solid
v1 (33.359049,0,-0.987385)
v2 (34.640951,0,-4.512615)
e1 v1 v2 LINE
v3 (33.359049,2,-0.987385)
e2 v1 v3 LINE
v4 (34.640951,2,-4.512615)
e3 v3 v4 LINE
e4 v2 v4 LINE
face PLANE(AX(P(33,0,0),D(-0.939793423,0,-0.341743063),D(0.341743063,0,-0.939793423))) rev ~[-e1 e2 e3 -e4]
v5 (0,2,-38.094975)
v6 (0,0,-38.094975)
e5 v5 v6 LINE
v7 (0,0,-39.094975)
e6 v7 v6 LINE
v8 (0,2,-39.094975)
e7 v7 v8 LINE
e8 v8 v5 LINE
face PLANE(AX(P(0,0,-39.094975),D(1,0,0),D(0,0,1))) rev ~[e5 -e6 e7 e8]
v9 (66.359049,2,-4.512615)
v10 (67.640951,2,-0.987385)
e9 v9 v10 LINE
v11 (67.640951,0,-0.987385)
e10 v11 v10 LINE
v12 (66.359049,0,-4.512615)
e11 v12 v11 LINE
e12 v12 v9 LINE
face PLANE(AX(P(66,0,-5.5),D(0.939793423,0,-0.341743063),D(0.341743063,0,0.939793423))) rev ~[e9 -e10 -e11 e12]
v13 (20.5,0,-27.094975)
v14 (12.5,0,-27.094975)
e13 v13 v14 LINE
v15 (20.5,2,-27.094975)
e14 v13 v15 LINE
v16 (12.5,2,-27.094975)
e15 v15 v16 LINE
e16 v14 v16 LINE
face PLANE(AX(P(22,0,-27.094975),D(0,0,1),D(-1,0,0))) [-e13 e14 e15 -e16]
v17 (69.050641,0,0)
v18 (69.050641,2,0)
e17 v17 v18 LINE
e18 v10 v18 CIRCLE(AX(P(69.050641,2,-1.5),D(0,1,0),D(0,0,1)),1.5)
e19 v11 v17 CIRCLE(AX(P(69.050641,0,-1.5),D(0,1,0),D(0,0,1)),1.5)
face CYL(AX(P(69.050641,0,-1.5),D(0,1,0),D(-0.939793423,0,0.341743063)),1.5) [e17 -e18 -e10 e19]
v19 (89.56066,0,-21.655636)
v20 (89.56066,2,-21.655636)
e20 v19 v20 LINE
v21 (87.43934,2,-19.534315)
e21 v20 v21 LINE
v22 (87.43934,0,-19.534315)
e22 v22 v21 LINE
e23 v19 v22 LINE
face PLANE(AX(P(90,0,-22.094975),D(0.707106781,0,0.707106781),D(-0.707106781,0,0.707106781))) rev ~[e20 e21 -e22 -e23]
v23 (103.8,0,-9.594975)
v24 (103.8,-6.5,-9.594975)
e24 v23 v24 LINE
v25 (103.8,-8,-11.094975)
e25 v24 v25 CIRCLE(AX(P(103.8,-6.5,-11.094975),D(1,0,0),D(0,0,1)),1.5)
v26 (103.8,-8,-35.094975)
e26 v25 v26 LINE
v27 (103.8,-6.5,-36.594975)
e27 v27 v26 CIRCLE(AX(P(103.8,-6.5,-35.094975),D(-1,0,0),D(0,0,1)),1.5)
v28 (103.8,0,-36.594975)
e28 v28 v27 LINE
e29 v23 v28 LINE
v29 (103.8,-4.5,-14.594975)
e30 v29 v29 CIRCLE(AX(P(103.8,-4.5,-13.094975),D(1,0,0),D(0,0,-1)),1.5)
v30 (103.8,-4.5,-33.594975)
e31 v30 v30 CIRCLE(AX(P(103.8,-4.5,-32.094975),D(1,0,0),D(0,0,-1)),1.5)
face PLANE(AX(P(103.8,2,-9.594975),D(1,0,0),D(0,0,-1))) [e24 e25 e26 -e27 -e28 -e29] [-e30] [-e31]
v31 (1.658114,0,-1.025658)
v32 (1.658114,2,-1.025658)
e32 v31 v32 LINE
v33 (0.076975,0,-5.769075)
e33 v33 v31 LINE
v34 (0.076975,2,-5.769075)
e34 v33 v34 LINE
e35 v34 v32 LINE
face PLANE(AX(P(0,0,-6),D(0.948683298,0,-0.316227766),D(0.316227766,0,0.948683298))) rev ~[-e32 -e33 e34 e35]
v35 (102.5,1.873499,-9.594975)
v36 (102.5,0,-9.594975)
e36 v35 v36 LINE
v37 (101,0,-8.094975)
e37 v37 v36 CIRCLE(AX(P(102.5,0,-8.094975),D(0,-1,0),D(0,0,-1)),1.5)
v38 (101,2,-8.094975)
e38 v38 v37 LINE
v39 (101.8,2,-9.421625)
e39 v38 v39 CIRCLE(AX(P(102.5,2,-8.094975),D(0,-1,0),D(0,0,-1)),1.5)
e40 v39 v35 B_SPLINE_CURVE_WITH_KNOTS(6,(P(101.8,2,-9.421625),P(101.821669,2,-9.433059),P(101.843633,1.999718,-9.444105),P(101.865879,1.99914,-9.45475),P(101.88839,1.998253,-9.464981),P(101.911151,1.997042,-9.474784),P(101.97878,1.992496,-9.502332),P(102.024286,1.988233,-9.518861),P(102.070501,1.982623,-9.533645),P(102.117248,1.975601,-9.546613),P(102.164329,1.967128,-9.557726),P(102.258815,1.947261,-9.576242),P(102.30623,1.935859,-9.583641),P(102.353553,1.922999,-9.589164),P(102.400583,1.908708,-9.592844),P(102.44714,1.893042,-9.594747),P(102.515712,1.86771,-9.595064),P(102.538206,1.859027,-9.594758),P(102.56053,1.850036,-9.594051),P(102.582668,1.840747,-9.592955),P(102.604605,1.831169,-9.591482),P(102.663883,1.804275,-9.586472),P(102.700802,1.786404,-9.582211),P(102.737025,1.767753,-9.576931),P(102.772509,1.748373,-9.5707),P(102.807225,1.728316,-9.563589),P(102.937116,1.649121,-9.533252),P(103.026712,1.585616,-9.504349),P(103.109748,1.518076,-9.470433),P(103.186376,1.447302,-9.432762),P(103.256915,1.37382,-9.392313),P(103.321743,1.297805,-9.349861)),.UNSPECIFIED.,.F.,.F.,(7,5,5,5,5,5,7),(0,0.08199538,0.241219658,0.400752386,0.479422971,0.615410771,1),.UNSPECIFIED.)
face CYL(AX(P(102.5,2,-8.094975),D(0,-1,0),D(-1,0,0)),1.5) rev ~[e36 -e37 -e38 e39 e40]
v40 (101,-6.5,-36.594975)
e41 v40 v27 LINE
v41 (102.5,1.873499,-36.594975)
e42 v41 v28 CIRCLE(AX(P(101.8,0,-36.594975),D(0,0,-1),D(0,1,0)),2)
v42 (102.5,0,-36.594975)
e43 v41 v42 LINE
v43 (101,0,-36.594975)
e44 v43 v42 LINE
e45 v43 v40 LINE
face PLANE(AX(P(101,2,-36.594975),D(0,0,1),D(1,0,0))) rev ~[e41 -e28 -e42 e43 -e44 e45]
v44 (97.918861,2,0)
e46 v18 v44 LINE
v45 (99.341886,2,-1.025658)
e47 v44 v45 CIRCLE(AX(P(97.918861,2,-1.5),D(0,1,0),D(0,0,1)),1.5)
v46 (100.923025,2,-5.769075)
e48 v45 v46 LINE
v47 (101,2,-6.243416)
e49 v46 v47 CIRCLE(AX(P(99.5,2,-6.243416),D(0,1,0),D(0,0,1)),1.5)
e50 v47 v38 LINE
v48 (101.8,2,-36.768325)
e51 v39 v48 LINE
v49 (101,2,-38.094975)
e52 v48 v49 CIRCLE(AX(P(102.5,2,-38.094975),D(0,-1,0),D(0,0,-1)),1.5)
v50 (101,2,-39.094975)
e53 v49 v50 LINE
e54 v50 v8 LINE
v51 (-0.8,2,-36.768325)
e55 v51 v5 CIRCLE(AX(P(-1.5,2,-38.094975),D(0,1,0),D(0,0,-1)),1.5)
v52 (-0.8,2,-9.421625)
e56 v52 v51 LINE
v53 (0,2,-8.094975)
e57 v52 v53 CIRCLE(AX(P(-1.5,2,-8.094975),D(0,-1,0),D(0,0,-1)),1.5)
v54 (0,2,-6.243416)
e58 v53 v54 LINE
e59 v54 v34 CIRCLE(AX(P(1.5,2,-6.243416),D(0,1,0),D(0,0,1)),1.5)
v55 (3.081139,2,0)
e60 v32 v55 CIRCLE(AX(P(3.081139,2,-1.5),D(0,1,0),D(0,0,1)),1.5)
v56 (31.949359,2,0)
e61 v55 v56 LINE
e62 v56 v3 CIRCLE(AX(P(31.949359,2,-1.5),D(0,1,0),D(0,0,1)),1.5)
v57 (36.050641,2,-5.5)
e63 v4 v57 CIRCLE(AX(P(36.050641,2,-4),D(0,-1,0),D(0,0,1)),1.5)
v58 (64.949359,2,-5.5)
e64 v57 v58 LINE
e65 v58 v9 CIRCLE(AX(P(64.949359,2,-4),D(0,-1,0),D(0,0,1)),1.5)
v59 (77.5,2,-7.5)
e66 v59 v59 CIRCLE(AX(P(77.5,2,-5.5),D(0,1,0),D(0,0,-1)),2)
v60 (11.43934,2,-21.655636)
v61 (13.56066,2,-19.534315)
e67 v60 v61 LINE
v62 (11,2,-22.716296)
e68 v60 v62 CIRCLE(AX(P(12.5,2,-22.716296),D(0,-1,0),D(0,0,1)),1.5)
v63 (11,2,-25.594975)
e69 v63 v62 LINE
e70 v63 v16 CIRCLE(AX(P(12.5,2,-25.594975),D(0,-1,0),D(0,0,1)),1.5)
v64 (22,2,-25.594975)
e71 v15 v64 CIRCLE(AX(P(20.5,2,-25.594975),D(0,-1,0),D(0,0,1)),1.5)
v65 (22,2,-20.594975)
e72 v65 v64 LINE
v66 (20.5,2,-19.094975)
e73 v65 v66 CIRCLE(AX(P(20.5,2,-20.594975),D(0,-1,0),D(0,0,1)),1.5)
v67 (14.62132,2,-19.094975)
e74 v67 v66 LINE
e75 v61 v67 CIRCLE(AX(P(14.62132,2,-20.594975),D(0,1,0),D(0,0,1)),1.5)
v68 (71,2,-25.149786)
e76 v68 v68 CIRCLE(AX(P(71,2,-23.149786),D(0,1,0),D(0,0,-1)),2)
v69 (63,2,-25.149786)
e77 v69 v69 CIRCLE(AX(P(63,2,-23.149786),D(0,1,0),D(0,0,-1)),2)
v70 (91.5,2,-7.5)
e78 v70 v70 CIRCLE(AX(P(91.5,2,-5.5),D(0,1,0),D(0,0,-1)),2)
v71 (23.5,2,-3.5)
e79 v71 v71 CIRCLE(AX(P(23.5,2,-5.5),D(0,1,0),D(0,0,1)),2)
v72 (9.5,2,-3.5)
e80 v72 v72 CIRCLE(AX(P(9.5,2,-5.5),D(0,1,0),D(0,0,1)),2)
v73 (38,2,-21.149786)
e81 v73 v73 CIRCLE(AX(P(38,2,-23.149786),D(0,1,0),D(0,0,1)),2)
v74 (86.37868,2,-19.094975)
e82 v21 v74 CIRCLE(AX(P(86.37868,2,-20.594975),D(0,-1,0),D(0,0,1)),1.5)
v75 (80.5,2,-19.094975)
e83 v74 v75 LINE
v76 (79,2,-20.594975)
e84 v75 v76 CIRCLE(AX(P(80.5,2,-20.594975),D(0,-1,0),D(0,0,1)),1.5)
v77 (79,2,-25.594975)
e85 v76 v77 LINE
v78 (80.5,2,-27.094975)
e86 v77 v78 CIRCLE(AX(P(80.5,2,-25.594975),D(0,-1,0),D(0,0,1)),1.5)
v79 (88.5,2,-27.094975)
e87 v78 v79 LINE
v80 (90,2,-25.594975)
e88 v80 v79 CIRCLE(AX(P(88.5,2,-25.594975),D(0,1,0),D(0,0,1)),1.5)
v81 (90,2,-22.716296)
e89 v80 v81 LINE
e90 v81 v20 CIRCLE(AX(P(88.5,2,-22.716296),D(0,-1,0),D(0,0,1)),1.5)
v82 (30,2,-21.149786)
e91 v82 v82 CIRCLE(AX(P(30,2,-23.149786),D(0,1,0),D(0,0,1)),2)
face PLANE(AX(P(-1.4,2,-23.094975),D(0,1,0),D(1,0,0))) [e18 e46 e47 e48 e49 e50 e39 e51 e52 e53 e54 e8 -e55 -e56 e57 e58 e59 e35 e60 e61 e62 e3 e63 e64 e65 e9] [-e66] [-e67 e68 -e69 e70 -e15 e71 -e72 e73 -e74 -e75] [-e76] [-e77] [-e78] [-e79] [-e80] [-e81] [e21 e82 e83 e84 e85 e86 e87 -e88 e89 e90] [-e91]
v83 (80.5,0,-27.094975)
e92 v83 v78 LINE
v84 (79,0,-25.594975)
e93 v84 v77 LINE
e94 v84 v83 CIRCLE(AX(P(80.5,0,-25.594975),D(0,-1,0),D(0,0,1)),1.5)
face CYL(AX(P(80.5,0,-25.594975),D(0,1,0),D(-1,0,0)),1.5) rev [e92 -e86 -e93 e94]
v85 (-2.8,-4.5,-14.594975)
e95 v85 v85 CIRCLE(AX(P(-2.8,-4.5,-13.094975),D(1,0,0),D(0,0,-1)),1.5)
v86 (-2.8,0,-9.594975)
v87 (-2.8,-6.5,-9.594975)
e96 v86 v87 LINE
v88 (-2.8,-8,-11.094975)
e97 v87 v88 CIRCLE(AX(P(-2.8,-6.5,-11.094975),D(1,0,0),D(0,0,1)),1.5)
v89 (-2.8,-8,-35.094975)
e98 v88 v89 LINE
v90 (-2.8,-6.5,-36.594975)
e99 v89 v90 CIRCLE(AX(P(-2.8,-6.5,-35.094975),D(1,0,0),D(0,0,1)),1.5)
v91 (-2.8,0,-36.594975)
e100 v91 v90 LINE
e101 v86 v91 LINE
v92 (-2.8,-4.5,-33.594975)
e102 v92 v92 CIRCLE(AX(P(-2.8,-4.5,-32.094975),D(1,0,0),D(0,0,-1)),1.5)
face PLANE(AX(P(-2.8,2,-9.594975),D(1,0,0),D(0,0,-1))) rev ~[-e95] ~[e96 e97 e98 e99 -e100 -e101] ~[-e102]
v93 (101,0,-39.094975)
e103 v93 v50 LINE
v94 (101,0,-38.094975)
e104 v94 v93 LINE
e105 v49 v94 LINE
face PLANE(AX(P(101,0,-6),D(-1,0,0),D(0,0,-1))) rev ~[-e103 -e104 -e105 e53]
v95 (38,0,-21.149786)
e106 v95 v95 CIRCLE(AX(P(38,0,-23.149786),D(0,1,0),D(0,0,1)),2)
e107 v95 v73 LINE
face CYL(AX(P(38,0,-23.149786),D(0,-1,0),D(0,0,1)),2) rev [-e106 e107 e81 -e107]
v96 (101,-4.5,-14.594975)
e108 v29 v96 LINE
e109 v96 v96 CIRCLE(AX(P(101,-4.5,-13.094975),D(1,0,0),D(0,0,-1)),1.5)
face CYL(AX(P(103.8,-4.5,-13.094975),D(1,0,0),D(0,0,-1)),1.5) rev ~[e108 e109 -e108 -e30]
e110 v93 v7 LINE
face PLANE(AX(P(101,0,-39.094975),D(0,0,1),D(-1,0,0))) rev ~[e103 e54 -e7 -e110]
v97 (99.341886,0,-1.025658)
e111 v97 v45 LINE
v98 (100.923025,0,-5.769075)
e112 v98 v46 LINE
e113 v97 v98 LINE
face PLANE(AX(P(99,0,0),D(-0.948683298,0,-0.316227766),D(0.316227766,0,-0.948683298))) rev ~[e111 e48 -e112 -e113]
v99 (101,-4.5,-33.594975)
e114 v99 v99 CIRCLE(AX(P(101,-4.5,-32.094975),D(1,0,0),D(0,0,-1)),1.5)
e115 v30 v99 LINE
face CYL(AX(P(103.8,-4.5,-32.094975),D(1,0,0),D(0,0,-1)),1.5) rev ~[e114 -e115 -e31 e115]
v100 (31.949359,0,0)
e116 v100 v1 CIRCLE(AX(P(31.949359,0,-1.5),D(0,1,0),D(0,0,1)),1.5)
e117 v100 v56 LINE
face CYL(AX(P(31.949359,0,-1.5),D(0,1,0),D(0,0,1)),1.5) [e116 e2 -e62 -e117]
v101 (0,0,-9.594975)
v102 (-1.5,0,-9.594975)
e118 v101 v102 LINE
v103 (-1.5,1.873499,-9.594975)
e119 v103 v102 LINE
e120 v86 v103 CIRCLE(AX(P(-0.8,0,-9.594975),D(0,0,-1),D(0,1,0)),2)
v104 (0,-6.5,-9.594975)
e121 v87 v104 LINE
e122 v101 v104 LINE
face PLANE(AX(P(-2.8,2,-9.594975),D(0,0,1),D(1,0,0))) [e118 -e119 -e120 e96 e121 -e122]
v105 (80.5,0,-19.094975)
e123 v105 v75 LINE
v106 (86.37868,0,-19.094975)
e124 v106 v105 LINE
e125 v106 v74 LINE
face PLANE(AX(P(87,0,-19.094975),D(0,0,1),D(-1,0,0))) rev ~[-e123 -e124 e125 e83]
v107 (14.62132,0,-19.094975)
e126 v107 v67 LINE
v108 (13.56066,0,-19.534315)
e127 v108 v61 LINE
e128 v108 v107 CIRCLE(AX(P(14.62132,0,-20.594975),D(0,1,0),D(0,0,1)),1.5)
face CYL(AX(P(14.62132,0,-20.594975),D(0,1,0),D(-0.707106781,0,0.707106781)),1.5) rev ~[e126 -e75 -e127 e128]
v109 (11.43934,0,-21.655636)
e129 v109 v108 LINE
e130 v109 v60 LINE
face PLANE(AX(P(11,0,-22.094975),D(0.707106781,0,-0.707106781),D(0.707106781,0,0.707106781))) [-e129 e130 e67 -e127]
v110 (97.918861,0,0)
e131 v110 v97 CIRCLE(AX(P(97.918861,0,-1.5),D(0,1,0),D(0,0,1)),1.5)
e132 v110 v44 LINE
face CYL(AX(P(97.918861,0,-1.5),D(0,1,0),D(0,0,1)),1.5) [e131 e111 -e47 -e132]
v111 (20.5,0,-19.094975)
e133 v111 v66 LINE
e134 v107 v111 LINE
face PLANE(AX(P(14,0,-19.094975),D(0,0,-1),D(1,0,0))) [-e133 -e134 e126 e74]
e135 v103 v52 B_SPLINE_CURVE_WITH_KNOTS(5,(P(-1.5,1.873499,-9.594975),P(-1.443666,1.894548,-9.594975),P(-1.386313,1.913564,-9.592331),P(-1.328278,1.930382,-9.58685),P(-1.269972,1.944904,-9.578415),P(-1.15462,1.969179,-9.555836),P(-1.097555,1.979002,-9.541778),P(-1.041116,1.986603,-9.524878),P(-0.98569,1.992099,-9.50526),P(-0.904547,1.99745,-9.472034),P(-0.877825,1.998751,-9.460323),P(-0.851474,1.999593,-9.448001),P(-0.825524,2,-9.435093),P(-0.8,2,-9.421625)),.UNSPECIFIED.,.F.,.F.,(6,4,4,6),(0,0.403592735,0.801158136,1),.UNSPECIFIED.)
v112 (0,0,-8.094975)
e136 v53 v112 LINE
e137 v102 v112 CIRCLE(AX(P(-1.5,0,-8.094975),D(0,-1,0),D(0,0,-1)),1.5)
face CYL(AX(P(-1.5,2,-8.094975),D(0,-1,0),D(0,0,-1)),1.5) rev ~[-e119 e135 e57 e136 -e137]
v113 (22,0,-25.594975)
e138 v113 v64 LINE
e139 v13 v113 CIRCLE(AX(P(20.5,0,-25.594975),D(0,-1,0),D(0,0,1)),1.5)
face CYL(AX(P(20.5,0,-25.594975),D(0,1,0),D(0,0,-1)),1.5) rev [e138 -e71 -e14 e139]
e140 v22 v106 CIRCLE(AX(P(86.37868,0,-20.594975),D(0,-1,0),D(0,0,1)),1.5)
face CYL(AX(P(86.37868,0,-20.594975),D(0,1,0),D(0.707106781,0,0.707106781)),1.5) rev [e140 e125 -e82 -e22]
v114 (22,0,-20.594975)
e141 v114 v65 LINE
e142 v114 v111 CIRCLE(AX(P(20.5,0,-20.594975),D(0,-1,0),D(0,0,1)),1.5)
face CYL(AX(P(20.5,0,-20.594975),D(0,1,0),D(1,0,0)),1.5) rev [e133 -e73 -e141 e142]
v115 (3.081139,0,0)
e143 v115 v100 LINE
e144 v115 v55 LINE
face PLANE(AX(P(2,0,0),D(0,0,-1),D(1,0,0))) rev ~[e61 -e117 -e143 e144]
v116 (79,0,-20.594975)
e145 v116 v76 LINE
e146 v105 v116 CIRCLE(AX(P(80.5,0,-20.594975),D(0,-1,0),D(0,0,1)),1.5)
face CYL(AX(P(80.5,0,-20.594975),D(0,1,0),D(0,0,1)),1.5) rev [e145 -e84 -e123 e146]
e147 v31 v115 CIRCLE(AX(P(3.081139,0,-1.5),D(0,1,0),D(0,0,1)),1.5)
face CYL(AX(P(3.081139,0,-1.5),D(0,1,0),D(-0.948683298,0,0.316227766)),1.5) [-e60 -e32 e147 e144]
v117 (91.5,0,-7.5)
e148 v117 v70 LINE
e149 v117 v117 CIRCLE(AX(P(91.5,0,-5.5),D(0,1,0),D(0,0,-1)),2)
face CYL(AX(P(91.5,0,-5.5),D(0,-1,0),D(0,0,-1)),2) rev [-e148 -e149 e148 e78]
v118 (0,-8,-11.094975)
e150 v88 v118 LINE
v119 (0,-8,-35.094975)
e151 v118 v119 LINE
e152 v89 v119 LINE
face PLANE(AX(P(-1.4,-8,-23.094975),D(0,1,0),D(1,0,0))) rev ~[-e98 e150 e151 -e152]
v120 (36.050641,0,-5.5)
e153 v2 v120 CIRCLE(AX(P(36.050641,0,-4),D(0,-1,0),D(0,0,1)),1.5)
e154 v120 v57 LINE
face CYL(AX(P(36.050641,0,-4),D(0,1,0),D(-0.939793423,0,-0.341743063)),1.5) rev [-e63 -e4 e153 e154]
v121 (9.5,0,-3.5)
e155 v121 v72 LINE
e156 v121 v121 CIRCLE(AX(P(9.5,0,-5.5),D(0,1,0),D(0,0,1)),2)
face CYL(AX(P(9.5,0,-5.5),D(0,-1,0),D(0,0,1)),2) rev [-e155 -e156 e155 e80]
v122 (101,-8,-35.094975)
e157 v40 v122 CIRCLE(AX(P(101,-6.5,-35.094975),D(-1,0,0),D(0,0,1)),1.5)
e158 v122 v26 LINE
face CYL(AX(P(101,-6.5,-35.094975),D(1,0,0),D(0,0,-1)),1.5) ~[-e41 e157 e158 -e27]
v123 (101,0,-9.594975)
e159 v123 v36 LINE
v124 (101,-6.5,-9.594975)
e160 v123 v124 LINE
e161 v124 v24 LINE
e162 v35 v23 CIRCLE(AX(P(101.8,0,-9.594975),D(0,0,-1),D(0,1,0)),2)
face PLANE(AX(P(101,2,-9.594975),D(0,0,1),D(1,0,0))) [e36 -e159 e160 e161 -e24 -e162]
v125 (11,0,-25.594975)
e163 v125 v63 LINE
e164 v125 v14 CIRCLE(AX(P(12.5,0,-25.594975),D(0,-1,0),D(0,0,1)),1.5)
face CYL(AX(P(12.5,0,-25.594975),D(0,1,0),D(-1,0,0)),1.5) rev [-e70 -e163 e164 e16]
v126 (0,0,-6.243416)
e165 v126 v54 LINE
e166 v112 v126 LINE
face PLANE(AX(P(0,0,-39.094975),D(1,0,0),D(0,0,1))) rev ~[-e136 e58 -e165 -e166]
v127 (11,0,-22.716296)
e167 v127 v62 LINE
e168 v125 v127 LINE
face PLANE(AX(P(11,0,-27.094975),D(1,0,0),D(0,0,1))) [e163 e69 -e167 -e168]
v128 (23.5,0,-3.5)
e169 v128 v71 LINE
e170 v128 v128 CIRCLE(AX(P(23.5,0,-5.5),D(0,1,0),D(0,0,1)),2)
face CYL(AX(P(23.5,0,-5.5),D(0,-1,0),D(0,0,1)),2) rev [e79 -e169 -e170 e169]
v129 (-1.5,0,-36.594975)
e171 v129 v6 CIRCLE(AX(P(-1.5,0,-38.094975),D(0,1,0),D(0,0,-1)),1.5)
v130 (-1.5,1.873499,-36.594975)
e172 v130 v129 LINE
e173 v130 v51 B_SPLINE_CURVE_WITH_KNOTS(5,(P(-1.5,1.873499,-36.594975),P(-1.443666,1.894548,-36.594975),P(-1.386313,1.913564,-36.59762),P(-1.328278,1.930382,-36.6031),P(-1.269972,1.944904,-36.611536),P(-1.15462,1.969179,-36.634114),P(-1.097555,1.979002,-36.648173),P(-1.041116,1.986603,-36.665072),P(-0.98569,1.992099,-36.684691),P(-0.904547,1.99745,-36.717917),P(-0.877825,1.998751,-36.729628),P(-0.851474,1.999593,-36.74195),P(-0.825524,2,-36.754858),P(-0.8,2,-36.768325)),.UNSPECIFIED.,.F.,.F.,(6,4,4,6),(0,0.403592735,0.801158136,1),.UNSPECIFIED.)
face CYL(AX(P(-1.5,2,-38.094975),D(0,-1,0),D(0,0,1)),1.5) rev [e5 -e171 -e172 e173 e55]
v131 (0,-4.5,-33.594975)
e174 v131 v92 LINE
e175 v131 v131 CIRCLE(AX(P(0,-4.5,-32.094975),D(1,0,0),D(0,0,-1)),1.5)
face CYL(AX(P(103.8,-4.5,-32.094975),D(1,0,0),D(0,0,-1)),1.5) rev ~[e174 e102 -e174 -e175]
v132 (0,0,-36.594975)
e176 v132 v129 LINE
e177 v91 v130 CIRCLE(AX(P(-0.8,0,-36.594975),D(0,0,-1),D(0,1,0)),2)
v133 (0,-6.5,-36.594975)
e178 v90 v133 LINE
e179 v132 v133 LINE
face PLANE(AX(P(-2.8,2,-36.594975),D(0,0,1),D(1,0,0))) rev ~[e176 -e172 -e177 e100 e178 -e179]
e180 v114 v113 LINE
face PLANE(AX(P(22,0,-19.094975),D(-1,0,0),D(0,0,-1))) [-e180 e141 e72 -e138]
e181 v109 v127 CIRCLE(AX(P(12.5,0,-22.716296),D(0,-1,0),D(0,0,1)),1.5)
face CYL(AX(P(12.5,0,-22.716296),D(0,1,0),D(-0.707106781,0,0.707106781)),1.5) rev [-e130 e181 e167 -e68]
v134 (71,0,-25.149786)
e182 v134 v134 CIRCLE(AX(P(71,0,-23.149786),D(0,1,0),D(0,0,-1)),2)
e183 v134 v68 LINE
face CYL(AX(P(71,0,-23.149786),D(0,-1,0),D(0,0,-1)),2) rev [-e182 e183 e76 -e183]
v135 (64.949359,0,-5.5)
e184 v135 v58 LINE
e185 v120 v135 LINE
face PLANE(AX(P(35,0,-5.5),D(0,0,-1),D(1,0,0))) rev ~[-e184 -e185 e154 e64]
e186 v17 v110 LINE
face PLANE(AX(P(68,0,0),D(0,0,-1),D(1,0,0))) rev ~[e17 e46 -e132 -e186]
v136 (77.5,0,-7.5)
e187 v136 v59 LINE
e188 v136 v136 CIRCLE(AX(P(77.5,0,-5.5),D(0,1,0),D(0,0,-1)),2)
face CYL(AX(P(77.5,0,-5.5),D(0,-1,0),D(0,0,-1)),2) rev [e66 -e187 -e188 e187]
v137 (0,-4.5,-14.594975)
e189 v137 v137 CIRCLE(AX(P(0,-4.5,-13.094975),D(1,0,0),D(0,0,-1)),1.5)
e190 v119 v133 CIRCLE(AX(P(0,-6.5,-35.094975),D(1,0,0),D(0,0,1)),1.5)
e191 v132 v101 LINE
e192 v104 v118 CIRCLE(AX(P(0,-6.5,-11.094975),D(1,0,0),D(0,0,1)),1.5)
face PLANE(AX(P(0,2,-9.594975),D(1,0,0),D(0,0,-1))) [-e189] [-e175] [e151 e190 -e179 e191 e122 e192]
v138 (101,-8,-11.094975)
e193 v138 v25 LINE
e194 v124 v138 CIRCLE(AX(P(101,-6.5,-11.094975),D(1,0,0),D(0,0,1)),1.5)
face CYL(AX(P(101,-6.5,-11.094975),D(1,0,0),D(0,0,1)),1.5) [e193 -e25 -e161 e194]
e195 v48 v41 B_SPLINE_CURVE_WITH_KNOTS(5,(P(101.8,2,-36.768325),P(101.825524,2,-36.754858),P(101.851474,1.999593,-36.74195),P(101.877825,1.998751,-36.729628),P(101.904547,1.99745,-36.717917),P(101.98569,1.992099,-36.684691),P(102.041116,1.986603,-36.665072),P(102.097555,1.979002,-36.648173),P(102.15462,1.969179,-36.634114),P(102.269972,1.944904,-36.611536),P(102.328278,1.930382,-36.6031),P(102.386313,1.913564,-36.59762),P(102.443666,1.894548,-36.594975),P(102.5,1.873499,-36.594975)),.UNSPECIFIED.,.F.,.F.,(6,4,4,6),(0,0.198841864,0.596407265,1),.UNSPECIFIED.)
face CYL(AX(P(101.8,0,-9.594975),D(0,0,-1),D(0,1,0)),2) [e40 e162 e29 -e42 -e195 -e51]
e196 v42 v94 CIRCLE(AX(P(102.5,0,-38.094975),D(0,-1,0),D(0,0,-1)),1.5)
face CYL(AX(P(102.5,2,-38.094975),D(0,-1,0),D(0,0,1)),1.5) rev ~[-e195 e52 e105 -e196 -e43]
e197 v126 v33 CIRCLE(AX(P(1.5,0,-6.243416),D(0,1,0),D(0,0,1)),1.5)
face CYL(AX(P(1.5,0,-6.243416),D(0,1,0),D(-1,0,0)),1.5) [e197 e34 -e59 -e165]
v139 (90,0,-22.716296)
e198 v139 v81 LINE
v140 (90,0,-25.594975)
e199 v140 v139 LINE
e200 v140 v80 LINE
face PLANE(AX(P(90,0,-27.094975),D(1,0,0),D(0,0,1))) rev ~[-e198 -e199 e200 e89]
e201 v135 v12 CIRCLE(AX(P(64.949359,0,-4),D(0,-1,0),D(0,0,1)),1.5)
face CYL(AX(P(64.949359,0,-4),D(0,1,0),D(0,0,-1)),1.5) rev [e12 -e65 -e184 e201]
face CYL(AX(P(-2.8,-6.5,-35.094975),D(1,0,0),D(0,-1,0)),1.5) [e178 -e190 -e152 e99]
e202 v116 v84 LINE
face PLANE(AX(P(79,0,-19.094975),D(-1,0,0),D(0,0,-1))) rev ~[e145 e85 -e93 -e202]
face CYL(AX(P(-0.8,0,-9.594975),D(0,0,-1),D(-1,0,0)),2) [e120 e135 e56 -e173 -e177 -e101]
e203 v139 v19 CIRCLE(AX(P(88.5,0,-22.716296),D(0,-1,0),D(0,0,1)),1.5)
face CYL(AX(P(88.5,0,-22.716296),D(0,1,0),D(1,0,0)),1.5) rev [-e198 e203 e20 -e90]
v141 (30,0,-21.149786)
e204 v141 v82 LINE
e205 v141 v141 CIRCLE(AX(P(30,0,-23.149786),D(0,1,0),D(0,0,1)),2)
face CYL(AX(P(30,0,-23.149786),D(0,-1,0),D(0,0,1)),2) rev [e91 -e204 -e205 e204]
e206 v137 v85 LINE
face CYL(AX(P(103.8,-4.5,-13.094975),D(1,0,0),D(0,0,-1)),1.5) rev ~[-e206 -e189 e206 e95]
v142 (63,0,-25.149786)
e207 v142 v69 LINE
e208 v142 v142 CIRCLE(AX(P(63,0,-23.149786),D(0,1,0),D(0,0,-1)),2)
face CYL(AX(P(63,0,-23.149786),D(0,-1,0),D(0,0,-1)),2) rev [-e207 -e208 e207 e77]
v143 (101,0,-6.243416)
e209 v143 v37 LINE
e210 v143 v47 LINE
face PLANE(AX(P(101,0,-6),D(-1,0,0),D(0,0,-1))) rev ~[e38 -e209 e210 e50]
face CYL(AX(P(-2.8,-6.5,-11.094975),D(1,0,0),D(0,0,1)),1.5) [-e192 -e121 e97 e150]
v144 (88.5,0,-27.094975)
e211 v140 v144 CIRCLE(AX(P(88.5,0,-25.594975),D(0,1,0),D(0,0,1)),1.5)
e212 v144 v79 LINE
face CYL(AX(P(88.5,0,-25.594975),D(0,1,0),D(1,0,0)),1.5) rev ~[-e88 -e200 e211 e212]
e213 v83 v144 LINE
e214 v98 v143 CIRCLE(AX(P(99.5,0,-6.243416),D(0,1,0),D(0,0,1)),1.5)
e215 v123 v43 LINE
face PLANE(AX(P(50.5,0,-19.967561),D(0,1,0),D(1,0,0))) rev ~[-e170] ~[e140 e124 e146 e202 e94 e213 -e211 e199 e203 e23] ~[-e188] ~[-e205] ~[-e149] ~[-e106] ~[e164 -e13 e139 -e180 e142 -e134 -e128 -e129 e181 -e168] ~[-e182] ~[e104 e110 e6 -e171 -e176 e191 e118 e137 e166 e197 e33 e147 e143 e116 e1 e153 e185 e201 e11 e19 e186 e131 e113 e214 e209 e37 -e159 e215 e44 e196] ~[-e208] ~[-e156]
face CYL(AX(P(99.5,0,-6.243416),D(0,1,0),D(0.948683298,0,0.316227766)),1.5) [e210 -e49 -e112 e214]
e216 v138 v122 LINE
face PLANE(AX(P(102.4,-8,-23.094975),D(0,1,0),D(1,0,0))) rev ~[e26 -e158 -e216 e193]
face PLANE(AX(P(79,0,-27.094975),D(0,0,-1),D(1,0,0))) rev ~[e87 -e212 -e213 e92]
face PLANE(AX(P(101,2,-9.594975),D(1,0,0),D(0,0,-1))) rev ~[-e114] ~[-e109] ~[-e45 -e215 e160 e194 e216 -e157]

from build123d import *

# Parameters (mm, degrees)
SKETCH1_R           = 2
BOSS_EXTRUDE1_DEPTH = 2
SKETCH2_W           = 2.8
SKETCH2_H           = 27
BOSS_EXTRUDE2_DEPTH = 10
SKETCH3_R           = 1.5
CUT_EXTRUDE1_DEPTH  = 114.824325613
FILLET1_R           = 1.5
FILLET2_R           = 2


with BuildPart() as part:
    # Sketch1 → Boss-Extrude1 (new body)
    with BuildSketch(Plane(origin=(0, 0, 0), x_dir=(1, 0, 0), z_dir=(0, 1, 0))):
        Polygon((0, 6), (2, 0), (33, 0), (35, 5.5), (66, 5.5), (68, 0), (99, 0), (101, 6), (101, 39.094975397), (0, 39.094975397), align=None)
        with Locations(Location((9.5, 5.5, 0), (0, 0, 270))):
            Circle(SKETCH1_R, mode=Mode.SUBTRACT)
        with Locations(Location((23.5, 5.5, 0), (0, 0, 270))):
            Circle(SKETCH1_R, mode=Mode.SUBTRACT)
        with Locations(Location((77.5, 5.5, 0), (0, 0, 90))):
            Circle(SKETCH1_R, mode=Mode.SUBTRACT)
        with Locations(Location((91.5, 5.5, 0), (0, 0, 90))):
            Circle(SKETCH1_R, mode=Mode.SUBTRACT)
        with Locations(Location((30, 23.149785568, 0), (0, 0, 270))):
            Circle(SKETCH1_R, mode=Mode.SUBTRACT)
        with Locations(Location((38, 23.149785568, 0), (0, 0, 270))):
            Circle(SKETCH1_R, mode=Mode.SUBTRACT)
        with Locations(Location((63, 23.149785568, 0), (0, 0, 90))):
            Circle(SKETCH1_R, mode=Mode.SUBTRACT)
        with Locations(Location((71, 23.149785568, 0), (0, 0, 90))):
            Circle(SKETCH1_R, mode=Mode.SUBTRACT)
        Polygon((11, 22.094975397), (14, 19.094975397), (22, 19.094975397), (22, 27.094975397), (11, 27.094975397), align=None, mode=Mode.SUBTRACT)
        Polygon((90, 27.094975397), (90, 22.094975397), (87, 19.094975397), (79, 19.094975397), (79, 27.094975397), align=None, mode=Mode.SUBTRACT)
    extrude(amount=BOSS_EXTRUDE1_DEPTH)

    # Sketch2 → Boss-Extrude2 (add)
    with BuildSketch(Plane(origin=(0, 2, 0), x_dir=(1, 0, 0), z_dir=(0, 1, 0))):
        with Locations((-1.4, 23.094975397)):
            Rectangle(SKETCH2_W, SKETCH2_H)
        with Locations((102.4, 23.094975397)):
            Rectangle(SKETCH2_W, SKETCH2_H)
    extrude(amount=-BOSS_EXTRUDE2_DEPTH)

    # Sketch3 → Cut-Extrude1 (cut, through all)
    with BuildSketch(Plane(origin=(103.8, 0, 0), x_dir=(0, 0, -1), z_dir=(1, 0, 0))):
        with Locations((13.094975397, -4.5)):
            Circle(SKETCH3_R)
        with Locations((32.094975397, -4.5)):
            Circle(SKETCH3_R)
    extrude(amount=-CUT_EXTRUDE1_DEPTH, mode=Mode.SUBTRACT)

    # Fillet1
    fillet1_edges = [part.edges().sort_by_distance(p)[0] for p in [
        (-1.4, -8, -9.594975397),
        (-1.4, -8, -36.594975397),
        (0, 1, -9.594975397),
        (0, 1, -6),
        (2, 1, 0),
        (0, 1, -36.594975397),
        (102.4, -8, -36.594975397),
        (101, 1, -36.594975397),
        (102.4, -8, -9.594975397),
        (101, 1, -9.594975397),
        (101, 1, -6),
        (99, 1, 0),
        (66, 1, -5.5),
        (68, 1, 0),
        (90, 1, -27.094975397),
        (79, 1, -27.094975397),
        (90, 1, -22.094975397),
        (87, 1, -19.094975397),
        (79, 1, -19.094975397),
        (35, 1, -5.5),
        (33, 1, 0),
        (11, 1, -27.094975397),
        (11, 1, -22.094975397),
        (14, 1, -19.094975397),
        (22, 1, -19.094975397),
        (22, 1, -27.094975397),
    ]]
    fillet(fillet1_edges, radius=FILLET1_R)

    # Fillet2
    fillet2_edges = [part.edges().sort_by_distance(p)[0] for p in [
        (-2.8, 2, -23.094975397),
        (103.8, 2, -23.094975397),
    ]]
    fillet(fillet2_edges, radius=FILLET2_R)


solid = part.part
